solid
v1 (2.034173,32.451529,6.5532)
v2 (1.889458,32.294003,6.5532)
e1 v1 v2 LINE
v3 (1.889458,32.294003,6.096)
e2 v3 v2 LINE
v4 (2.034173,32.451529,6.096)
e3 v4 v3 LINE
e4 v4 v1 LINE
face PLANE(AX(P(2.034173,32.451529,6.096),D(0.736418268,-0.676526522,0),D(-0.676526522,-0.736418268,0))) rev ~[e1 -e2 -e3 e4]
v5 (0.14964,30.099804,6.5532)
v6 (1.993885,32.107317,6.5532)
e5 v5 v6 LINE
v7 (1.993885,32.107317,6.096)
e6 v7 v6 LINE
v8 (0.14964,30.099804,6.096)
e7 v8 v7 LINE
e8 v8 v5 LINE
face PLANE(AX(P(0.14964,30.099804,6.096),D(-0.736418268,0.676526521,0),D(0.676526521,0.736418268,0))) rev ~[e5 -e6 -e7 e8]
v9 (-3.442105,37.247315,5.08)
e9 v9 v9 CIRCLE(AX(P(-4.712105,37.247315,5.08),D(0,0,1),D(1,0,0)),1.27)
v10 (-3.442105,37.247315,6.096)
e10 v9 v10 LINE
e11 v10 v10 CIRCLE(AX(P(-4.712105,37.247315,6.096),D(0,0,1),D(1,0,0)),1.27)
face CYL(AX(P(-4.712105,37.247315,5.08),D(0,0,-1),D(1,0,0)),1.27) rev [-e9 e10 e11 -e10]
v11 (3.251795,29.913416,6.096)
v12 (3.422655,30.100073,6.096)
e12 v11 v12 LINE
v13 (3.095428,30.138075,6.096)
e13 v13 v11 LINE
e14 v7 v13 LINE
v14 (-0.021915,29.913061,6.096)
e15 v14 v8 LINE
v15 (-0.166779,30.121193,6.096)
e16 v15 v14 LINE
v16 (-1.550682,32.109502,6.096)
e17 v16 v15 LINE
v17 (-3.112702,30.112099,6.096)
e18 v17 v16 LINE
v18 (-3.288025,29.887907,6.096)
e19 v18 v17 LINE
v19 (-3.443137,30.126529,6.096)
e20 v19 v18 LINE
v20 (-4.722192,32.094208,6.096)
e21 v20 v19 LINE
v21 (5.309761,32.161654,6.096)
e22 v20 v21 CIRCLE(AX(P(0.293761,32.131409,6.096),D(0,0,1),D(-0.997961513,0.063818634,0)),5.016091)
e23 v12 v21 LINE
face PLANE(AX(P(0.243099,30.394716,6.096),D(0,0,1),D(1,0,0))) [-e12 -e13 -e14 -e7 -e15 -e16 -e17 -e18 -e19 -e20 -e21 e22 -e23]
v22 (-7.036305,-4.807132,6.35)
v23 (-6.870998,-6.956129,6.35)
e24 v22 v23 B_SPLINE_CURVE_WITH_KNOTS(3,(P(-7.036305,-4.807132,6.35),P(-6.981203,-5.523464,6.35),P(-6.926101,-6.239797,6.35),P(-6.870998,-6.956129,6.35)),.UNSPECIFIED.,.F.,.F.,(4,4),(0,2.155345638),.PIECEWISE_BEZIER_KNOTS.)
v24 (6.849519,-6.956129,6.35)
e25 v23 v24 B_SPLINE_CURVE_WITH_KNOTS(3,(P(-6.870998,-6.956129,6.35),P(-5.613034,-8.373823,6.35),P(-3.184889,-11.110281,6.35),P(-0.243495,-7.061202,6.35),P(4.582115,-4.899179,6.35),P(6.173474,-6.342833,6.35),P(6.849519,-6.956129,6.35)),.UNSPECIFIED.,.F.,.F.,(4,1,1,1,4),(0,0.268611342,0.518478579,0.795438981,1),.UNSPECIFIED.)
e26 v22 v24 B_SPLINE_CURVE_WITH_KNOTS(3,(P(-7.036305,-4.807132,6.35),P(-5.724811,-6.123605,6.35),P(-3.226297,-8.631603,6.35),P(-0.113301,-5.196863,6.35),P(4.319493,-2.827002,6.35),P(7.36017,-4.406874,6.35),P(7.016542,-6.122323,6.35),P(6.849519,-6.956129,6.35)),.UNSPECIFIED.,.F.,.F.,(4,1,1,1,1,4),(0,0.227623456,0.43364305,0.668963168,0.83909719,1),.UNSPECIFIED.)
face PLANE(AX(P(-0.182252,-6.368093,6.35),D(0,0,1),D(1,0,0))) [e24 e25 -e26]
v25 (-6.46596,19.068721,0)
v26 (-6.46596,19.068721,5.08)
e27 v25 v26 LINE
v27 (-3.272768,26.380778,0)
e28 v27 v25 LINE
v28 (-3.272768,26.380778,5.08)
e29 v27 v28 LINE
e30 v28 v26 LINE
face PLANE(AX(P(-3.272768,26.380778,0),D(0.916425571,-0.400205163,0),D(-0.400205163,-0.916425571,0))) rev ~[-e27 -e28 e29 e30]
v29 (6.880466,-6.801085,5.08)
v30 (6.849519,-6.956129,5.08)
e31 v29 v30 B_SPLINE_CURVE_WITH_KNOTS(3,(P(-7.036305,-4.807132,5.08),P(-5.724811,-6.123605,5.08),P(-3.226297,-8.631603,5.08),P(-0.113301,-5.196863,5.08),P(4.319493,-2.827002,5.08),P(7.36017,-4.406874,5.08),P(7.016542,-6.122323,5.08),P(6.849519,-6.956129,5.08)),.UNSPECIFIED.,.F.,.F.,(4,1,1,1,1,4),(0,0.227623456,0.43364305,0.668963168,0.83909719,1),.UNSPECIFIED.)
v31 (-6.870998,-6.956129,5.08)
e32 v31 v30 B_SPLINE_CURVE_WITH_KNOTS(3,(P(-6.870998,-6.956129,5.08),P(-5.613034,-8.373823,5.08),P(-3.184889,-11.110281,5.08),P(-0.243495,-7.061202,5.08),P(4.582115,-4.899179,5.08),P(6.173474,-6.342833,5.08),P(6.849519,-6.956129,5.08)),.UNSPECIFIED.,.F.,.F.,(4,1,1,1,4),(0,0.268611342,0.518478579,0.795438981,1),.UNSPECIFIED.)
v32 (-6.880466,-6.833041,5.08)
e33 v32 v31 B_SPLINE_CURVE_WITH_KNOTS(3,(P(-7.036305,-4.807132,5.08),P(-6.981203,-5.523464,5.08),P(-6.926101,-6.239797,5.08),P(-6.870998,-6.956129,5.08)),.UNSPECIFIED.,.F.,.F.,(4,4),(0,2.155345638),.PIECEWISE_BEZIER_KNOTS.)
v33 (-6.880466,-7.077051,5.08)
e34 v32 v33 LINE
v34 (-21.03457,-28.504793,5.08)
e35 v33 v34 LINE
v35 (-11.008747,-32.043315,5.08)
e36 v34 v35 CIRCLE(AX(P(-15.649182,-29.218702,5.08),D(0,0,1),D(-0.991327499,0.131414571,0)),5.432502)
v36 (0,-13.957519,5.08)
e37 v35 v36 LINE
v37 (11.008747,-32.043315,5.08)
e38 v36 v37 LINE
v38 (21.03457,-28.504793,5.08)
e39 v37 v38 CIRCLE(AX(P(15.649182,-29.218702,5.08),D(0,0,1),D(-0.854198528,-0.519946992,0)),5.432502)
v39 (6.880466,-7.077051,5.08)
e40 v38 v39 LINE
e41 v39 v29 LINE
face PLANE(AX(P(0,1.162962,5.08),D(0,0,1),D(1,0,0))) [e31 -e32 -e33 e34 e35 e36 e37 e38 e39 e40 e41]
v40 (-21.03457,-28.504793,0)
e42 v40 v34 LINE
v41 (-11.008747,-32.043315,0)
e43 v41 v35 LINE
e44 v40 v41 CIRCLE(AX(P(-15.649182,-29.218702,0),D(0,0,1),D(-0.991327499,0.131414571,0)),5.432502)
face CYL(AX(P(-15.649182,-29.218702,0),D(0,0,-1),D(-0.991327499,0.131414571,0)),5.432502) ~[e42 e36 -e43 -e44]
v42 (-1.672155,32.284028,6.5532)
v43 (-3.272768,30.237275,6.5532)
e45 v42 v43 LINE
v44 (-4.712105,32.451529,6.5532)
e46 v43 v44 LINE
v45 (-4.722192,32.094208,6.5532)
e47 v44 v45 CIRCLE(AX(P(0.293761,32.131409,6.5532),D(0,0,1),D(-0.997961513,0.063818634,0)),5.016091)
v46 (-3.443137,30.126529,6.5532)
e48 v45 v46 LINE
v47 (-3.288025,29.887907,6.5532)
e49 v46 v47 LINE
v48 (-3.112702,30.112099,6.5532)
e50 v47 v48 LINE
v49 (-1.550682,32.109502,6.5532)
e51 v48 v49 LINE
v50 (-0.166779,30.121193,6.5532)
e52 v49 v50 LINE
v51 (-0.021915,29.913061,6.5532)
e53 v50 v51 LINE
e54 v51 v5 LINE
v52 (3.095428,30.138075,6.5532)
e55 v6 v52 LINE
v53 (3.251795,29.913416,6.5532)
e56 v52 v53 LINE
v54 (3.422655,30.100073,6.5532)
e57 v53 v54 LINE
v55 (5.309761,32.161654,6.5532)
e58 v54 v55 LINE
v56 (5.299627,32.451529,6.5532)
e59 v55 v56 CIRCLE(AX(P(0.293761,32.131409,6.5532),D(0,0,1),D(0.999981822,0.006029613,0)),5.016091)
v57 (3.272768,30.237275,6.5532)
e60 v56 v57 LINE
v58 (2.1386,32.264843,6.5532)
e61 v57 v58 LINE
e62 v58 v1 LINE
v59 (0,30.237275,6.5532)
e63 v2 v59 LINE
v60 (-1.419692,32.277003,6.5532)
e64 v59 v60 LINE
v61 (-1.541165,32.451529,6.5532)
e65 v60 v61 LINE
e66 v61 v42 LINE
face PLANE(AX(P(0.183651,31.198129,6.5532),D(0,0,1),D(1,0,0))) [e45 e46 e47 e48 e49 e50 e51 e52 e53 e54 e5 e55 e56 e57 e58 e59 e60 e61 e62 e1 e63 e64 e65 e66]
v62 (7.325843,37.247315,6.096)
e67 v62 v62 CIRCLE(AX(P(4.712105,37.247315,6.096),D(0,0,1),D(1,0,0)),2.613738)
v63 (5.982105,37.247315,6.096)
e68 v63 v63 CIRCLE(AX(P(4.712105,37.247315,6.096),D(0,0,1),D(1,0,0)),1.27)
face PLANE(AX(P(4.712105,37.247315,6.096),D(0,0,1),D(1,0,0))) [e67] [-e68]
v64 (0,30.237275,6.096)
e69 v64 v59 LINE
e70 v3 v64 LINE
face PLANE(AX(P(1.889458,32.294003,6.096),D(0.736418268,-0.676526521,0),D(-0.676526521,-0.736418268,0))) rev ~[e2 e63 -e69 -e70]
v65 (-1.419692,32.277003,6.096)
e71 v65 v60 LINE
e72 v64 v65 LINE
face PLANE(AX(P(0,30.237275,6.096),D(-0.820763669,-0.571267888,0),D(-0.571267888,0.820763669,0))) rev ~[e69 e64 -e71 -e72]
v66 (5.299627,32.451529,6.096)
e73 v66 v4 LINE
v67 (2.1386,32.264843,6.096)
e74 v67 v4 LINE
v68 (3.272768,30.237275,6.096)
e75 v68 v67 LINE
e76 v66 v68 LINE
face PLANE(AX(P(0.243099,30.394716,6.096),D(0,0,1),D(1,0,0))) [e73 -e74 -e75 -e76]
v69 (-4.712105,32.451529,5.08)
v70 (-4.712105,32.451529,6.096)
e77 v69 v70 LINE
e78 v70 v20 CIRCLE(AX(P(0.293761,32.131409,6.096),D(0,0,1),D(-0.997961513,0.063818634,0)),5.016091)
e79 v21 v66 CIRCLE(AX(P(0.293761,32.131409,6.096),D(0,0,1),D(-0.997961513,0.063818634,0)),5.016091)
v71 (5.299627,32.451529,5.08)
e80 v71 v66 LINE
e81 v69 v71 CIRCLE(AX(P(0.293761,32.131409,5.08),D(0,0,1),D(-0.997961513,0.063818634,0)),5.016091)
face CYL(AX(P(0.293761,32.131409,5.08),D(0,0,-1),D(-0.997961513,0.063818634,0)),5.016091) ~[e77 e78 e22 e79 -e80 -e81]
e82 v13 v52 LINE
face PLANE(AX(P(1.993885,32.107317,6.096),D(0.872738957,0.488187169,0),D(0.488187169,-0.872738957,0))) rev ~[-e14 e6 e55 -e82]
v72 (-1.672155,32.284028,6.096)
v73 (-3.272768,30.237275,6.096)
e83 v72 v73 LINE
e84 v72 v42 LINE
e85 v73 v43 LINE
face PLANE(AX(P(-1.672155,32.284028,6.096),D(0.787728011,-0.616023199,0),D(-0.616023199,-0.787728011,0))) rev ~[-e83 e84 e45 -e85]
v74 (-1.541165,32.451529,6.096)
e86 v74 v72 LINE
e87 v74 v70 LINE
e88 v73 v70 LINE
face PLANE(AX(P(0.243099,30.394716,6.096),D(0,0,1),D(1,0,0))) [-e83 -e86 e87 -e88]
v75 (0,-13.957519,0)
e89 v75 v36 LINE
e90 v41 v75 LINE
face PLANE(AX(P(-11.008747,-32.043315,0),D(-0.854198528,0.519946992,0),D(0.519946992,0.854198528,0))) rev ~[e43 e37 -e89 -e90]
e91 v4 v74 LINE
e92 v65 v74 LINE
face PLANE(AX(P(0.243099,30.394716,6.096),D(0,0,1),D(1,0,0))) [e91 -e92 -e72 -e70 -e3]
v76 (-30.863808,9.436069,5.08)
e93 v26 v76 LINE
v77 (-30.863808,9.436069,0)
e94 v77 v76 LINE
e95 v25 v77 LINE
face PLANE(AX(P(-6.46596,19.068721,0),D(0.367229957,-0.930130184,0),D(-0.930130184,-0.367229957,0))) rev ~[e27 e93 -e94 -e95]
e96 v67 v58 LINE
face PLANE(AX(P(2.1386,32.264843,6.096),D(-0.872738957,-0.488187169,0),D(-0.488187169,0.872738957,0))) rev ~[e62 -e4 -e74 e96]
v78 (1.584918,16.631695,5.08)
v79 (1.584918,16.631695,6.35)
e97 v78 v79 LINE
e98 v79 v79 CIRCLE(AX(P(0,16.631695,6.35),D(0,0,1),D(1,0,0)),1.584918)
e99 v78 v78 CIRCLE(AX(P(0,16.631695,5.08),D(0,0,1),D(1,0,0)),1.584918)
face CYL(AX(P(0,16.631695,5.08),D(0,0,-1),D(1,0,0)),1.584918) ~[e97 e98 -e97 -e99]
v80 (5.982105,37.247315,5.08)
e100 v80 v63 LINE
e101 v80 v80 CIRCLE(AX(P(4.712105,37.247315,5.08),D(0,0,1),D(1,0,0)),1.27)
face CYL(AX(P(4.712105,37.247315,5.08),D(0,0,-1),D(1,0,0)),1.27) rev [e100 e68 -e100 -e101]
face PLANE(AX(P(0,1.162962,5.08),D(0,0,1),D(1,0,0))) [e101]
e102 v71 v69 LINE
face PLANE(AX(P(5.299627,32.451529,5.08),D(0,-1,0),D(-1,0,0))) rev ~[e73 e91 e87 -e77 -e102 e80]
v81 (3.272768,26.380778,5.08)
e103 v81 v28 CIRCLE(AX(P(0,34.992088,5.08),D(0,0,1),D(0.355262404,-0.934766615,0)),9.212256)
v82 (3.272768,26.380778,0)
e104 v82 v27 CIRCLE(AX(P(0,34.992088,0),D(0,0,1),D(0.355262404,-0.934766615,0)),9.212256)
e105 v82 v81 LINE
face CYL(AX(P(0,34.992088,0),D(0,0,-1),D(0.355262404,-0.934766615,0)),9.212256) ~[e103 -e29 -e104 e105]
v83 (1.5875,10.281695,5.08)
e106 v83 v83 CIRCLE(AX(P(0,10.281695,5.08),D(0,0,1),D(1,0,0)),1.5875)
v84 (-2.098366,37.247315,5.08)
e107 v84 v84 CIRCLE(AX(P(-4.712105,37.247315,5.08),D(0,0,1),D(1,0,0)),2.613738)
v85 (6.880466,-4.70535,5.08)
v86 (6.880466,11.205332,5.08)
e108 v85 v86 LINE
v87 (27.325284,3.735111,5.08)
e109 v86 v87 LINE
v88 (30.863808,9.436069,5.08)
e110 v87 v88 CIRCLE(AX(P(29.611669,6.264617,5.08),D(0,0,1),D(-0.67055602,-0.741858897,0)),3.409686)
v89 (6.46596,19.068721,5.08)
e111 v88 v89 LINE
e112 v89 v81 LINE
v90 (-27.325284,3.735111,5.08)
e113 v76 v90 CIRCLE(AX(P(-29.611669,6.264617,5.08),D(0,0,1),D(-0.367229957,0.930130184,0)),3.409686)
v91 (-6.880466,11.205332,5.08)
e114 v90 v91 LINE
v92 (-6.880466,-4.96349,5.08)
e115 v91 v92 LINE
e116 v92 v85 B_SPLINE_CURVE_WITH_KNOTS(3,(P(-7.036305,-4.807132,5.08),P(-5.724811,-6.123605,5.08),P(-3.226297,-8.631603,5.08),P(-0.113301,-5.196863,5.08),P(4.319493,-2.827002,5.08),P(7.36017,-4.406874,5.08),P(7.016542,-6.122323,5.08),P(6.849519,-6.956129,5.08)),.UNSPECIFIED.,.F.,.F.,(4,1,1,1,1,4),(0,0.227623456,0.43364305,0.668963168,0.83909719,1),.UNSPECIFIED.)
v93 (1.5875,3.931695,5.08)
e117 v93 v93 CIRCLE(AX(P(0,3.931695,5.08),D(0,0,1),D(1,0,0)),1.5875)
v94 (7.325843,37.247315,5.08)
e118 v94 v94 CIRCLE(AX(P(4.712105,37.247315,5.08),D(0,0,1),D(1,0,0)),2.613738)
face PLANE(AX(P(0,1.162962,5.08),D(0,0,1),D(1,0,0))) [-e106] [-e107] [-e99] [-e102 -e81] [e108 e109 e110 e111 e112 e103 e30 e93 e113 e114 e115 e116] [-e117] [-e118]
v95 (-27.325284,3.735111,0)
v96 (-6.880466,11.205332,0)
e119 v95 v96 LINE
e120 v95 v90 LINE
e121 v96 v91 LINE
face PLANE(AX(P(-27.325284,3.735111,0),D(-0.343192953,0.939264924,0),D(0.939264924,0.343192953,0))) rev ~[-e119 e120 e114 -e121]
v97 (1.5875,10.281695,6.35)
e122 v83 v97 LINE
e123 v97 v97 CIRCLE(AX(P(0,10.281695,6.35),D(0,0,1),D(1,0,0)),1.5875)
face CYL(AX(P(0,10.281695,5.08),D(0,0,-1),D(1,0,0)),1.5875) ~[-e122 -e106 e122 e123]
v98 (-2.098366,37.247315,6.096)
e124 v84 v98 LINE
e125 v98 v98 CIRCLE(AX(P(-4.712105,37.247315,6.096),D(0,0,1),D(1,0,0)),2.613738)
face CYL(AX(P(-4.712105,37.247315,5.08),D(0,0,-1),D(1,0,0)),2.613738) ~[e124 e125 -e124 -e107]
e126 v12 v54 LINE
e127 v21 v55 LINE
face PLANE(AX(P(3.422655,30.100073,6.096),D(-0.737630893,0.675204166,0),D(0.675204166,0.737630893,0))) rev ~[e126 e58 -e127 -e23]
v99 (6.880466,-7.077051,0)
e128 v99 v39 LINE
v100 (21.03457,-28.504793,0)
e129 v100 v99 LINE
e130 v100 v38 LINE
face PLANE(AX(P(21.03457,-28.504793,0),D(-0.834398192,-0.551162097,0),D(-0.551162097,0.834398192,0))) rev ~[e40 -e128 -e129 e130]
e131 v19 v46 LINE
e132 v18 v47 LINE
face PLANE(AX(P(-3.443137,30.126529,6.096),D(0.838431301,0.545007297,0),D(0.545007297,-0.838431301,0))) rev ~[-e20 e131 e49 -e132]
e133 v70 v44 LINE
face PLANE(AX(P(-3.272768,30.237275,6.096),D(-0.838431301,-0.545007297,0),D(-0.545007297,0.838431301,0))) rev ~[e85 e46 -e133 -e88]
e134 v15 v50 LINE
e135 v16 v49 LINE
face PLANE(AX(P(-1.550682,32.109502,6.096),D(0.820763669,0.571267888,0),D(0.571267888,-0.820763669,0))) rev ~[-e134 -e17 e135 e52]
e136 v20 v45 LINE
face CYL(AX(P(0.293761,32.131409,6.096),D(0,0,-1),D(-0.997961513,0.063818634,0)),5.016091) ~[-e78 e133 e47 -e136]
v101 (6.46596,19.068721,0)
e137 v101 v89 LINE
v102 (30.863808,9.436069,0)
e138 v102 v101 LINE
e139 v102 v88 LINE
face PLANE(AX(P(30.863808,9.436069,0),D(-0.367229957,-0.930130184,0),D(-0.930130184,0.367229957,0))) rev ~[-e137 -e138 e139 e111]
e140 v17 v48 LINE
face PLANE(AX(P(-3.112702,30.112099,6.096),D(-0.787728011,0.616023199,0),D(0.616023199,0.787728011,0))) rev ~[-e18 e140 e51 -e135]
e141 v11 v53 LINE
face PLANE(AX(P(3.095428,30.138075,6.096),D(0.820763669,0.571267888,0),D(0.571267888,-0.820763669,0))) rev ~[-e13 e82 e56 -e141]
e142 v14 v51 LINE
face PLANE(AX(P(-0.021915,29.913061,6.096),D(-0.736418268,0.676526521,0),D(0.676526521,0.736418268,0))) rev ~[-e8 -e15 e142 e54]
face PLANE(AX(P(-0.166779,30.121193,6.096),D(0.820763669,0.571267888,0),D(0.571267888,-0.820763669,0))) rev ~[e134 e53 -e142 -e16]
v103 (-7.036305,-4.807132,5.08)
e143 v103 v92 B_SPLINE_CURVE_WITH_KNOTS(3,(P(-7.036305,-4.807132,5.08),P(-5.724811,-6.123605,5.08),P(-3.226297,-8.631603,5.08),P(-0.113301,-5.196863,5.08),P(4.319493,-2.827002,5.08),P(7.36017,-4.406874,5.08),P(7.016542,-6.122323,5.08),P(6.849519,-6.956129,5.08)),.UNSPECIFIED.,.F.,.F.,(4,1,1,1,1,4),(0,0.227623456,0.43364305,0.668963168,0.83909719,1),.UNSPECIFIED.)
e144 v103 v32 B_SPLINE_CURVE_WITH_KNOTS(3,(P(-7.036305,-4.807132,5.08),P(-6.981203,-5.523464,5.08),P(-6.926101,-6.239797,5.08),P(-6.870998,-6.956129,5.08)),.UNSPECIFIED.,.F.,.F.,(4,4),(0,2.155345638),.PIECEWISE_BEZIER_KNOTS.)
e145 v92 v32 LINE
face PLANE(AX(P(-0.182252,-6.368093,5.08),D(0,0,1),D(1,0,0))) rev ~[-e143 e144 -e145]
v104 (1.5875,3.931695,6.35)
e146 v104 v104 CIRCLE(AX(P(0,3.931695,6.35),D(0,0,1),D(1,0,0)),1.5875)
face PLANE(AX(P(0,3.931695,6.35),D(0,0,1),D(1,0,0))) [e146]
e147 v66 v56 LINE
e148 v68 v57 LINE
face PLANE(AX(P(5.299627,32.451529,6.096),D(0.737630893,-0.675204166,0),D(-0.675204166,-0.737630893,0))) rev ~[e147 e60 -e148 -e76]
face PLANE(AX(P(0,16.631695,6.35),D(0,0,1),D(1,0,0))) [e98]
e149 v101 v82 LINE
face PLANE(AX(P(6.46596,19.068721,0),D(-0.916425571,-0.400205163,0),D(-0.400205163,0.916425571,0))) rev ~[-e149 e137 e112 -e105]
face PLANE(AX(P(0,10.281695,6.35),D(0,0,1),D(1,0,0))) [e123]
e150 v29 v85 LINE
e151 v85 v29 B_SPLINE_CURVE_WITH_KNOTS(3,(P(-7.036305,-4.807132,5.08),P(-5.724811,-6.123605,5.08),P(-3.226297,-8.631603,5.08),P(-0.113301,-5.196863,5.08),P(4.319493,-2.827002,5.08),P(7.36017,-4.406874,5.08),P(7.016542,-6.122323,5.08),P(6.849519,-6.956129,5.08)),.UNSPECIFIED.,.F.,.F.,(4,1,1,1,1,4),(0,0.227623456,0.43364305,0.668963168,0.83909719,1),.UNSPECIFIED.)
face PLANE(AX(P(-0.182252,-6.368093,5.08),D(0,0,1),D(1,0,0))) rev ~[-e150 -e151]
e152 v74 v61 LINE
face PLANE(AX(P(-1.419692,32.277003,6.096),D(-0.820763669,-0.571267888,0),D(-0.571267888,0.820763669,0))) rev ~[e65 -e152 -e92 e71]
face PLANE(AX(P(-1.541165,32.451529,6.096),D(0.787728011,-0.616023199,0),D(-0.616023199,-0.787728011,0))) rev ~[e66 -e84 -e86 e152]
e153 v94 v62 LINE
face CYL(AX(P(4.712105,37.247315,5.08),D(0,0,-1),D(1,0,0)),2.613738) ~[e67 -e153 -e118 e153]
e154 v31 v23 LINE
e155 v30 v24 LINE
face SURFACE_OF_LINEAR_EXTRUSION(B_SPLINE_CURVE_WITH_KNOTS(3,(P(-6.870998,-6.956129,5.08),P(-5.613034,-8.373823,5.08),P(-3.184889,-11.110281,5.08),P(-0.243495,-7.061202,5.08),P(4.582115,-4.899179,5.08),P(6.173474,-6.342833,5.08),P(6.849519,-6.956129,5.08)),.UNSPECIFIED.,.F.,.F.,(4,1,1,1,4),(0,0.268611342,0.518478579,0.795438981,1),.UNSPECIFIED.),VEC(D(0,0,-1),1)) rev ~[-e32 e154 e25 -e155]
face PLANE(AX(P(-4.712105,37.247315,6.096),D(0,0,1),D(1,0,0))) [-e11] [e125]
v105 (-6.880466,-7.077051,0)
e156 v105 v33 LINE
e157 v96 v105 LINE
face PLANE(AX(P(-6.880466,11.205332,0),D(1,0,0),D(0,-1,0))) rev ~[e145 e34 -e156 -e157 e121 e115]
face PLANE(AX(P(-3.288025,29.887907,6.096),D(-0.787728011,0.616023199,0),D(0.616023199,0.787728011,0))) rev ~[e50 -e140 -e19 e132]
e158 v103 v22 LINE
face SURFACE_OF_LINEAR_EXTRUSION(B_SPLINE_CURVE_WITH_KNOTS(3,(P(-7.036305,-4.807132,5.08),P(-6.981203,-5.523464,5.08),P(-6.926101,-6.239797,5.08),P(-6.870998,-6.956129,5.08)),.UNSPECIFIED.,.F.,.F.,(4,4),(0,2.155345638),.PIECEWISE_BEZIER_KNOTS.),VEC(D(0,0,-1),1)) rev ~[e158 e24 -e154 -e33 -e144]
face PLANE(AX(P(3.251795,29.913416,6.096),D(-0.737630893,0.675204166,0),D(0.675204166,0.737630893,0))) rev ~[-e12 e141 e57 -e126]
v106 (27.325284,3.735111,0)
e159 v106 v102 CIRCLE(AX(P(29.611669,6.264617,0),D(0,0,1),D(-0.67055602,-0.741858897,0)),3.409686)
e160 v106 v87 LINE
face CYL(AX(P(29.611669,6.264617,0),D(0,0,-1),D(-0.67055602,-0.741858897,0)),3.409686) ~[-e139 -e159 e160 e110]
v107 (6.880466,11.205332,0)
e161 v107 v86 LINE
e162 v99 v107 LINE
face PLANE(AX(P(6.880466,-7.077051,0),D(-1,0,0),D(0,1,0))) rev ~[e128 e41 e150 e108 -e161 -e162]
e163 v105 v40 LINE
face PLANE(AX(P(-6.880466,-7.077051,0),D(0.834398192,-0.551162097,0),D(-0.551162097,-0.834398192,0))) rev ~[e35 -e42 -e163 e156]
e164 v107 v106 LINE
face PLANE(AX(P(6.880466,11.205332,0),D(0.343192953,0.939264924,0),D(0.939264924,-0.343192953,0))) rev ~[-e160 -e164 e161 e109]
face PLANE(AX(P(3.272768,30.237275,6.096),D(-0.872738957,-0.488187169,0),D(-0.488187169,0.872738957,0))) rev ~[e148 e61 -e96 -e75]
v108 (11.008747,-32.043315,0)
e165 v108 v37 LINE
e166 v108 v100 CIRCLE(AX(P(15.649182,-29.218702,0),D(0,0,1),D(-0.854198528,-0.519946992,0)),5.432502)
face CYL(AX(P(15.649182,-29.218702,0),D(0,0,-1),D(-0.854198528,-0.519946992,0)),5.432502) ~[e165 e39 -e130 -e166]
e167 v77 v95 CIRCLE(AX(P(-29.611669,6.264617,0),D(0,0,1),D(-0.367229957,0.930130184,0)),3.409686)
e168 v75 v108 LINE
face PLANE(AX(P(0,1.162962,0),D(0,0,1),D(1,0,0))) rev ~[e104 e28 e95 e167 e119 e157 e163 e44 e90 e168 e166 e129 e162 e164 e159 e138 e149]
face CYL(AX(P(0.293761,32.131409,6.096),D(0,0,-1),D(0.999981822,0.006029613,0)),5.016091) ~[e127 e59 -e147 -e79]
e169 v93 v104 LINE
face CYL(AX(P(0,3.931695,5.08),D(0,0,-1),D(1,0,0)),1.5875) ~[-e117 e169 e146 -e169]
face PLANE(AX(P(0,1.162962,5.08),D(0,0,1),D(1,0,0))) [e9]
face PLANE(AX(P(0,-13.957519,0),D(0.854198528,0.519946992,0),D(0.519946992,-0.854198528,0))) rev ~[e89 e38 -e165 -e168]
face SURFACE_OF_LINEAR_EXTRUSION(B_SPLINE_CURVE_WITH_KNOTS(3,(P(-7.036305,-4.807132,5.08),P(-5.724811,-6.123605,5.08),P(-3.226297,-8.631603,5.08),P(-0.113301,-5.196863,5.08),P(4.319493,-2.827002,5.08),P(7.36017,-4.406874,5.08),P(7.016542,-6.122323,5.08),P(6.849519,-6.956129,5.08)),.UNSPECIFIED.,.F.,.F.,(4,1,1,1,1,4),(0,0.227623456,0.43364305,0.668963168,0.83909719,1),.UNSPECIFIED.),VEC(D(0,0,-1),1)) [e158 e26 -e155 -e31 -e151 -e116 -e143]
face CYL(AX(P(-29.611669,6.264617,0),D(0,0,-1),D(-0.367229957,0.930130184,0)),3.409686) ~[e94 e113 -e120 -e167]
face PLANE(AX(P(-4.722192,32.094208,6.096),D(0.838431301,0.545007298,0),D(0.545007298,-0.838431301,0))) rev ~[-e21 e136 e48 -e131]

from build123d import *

# Parameters (mm, degrees)
F1_DEPTH = 5.08
F2_R     = 2.6137383635
F2_R_2   = 1.27
F3_DEPTH = 1.016
F5_DEPTH = 0.4572
F6_R     = 1.5849178859
F6_R_2   = 1.5875
F7_DEPTH = 1.27
F9_DEPTH = 1.27


with BuildPart() as f1:
    # F0 (on Top) → F1 (new body)
    with BuildSketch(Plane.XY):
        with BuildLine():
            Line((-3.2727682094, 26.3807782884), (-6.4659603156, 19.0687214415))
            Line((-6.4659603156, 19.0687214415), (-30.863808468, 9.4360690564))
            ThreePointArc((-30.863808468, 9.4360690564), (-32.5086762666, 4.4664752799), (-27.325283736, 3.7351106293))
            Line((-27.325283736, 3.7351106293), (-6.8804663606, 11.2053323537))
            Line((-6.8804663606, 11.2053323537), (-6.8804663606, -7.0770513266))
            Line((-6.8804663606, -7.0770513266), (-21.0345704108, -28.5047926009))
            ThreePointArc((-21.0345704108, -28.5047926009), (-17.4572264743, -34.3414996844), (-11.008746922, -32.0433154702))
            Line((-11.008746922, -32.0433154702), (0, -13.9575190842))
            Line((0, -13.9575190842), (11.008746922, -32.0433154702))
            ThreePointArc((11.008746922, -32.0433154702), (17.4572264743, -34.3414996844), (21.0345704108, -28.5047926009))
            Line((21.0345704108, -28.5047926009), (6.8804663606, -7.0770513266))
            Line((6.8804663606, -7.0770513266), (6.8804663606, 11.2053323537))
            Line((6.8804663606, 11.2053323537), (27.325283736, 3.7351106293))
            ThreePointArc((27.325283736, 3.7351106293), (32.5086762666, 4.4664752799), (30.863808468, 9.4360690564))
            Line((30.863808468, 9.4360690564), (6.4659603156, 19.0687214415))
            Line((6.4659603156, 19.0687214415), (3.2727682094, 26.3807782884))
            ThreePointArc((3.2727682094, 26.3807782884), (0, 44.2043436195), (-3.2727682094, 26.3807782884))
        make_face()
    extrude(amount=F1_DEPTH)

    # F2 (on face) → F3 (join)
    with BuildSketch(Plane.XY.offset(5.08)):
        with Locations((-4.7121047974, 37.2473150492)):
            Circle(F2_R)
        with Locations((-4.7121047974, 37.2473150492)):
            Circle(F2_R_2, mode=Mode.SUBTRACT)
        with Locations((4.7121047974, 37.2473150492)):
            Circle(F2_R)
        with Locations((4.7121047974, 37.2473150492)):
            Circle(F2_R_2, mode=Mode.SUBTRACT)
        with BuildLine():
            Line((-3.2727682094, 30.2372745808), (-4.7121047974, 32.4515290558))
            ThreePointArc((-4.7121047974, 32.4515290558), (0.2937612268, 27.1153177061), (5.2996272509, 32.4515290558))
            Line((5.2996272509, 32.4515290558), (3.2727682094, 30.2372745808))
            Line((3.2727682094, 30.2372745808), (2.0341726185, 32.4515290558))
            Line((2.0341726185, 32.4515290558), (0, 30.2372745808))
            Line((0, 30.2372745808), (-1.5411652881, 32.4515290558))
            Line((-1.5411652881, 32.4515290558), (-3.2727682094, 30.2372745808))
        make_face()
        Polygon((-1.5411652881, 32.4515290558), (-4.7121047974, 32.4515290558), (-3.2727682094, 30.2372745808), align=None)
        Polygon((3.2727682094, 30.2372745808), (5.2996272509, 32.4515290558), (2.0341726185, 32.4515290558), align=None)
        Polygon((2.0341726185, 32.4515290558), (-1.5411652881, 32.4515290558), (0, 30.2372745808), align=None)
    extrude(amount=F3_DEPTH)

    # F4 (on face) → F5 (join)
    with BuildSketch(Plane.XY.offset(6.096)):
        with BuildLine():
            Line((-3.2727682094, 30.2372745808), (-4.7121047974, 32.4515290558))
            ThreePointArc((-4.7121047974, 32.4515290558), (-4.7203324358, 32.2729584869), (-4.7221920847, 32.0942081475))
            Line((-4.7221920847, 32.0942081475), (-3.4431374496, 30.126529098))
            Line((-3.4431374496, 30.126529098), (-3.2880254188, 29.8879070055))
            Line((-3.2880254188, 29.8879070055), (-3.1127018776, 30.1120986668))
            Line((-3.1127018776, 30.1120986668), (-1.5506819831, 32.1095020547))
            Line((-1.5506819831, 32.1095020547), (-0.1667791776, 30.121192946))
            Line((-0.1667791776, 30.121192946), (-0.0219153894, 29.9130612851))
            Line((-0.0219153894, 29.9130612851), (0.1496401921, 30.0998043917))
            Line((0.1496401921, 30.0998043917), (1.9938853204, 32.1073174174))
            Line((1.9938853204, 32.1073174174), (3.0954276532, 30.138074948))
            Line((3.0954276532, 30.138074948), (3.2517947624, 29.9134160007))
            Line((3.2517947624, 29.9134160007), (3.4226548069, 30.1000730943))
            Line((3.4226548069, 30.1000730943), (5.3097613024, 32.1616540513))
            ThreePointArc((5.3097613024, 32.1616540513), (5.306789943, 32.3066648182), (5.2996272509, 32.4515290558))
            Line((5.2996272509, 32.4515290558), (3.2727682094, 30.2372745808))
            Line((3.2727682094, 30.2372745808), (2.13859977, 32.2648431922))
            Line((2.13859977, 32.2648431922), (2.0341726185, 32.4515290558))
            Line((2.0341726185, 32.4515290558), (1.8894581688, 32.2940032811))
            Line((1.8894581688, 32.2940032811), (0, 30.2372745808))
            Line((0, 30.2372745808), (-1.4196918326, 32.2770032315))
            Line((-1.4196918326, 32.2770032315), (-1.5411652881, 32.4515290558))
            Line((-1.5411652881, 32.4515290558), (-1.6721554386, 32.2840278791))
            Line((-1.6721554386, 32.2840278791), (-3.2727682094, 30.2372745808))
        make_face()
    extrude(amount=F5_DEPTH)

    # F6 (on face) → F7 (join)
    with BuildSketch(Plane.XY.offset(5.08)):
        with Locations((0, 16.6316951297)):
            Circle(F6_R)
        with Locations((0, 10.2816951297)):
            Circle(F6_R_2)
        with Locations((0, 3.9316951297)):
            Circle(F6_R_2)
    extrude(amount=F7_DEPTH)

    # F8 (on face) → F9 (join)
    with BuildSketch(Plane.XY.offset(5.08)):
        with BuildLine():
            add(Edge.make_bspline(
                [(-7.0363054983, -4.8071318306), (-6.9812030221, -5.5234641768), (-6.9261005459, -6.239796523), (-6.8709980696, -6.9561288692)],
                knots=[0, 0, 0, 0, 2.1553456377, 2.1553456377, 2.1553456377, 2.1553456377], degree=3))
            add(Edge.make_bspline(
                [(-6.8709980696, -6.9561288692), (-5.6130342711, -8.3738225884), (-3.1848892901, -11.1102812153), (-0.243495057, -7.0612015798), (4.5821148023, -4.8991787577), (6.1734744422, -6.3428325856), (6.8495194428, -6.9561288692)],
                knots=[0, 0, 0, 0, 0.2686113424, 0.5184785791, 0.7954389812, 1, 1, 1, 1], degree=3))
            add(Edge.make_bspline(
                [(-7.0363054983, -4.8071318306), (-5.7248109737, -6.1236047459), (-3.2262965612, -8.6316034379), (-0.1133011688, -5.1968632917), (4.3194928458, -2.8270018136), (7.3601699927, -4.4068743135), (7.0165421861, -6.1223228754), (6.8495194428, -6.9561288692)],
                knots=[0, 0, 0, 0, 0.2276234559, 0.4336430496, 0.668963168, 0.8390971896, 1, 1, 1, 1], degree=3))
        make_face()
    extrude(amount=F9_DEPTH)


solid = f1.part
